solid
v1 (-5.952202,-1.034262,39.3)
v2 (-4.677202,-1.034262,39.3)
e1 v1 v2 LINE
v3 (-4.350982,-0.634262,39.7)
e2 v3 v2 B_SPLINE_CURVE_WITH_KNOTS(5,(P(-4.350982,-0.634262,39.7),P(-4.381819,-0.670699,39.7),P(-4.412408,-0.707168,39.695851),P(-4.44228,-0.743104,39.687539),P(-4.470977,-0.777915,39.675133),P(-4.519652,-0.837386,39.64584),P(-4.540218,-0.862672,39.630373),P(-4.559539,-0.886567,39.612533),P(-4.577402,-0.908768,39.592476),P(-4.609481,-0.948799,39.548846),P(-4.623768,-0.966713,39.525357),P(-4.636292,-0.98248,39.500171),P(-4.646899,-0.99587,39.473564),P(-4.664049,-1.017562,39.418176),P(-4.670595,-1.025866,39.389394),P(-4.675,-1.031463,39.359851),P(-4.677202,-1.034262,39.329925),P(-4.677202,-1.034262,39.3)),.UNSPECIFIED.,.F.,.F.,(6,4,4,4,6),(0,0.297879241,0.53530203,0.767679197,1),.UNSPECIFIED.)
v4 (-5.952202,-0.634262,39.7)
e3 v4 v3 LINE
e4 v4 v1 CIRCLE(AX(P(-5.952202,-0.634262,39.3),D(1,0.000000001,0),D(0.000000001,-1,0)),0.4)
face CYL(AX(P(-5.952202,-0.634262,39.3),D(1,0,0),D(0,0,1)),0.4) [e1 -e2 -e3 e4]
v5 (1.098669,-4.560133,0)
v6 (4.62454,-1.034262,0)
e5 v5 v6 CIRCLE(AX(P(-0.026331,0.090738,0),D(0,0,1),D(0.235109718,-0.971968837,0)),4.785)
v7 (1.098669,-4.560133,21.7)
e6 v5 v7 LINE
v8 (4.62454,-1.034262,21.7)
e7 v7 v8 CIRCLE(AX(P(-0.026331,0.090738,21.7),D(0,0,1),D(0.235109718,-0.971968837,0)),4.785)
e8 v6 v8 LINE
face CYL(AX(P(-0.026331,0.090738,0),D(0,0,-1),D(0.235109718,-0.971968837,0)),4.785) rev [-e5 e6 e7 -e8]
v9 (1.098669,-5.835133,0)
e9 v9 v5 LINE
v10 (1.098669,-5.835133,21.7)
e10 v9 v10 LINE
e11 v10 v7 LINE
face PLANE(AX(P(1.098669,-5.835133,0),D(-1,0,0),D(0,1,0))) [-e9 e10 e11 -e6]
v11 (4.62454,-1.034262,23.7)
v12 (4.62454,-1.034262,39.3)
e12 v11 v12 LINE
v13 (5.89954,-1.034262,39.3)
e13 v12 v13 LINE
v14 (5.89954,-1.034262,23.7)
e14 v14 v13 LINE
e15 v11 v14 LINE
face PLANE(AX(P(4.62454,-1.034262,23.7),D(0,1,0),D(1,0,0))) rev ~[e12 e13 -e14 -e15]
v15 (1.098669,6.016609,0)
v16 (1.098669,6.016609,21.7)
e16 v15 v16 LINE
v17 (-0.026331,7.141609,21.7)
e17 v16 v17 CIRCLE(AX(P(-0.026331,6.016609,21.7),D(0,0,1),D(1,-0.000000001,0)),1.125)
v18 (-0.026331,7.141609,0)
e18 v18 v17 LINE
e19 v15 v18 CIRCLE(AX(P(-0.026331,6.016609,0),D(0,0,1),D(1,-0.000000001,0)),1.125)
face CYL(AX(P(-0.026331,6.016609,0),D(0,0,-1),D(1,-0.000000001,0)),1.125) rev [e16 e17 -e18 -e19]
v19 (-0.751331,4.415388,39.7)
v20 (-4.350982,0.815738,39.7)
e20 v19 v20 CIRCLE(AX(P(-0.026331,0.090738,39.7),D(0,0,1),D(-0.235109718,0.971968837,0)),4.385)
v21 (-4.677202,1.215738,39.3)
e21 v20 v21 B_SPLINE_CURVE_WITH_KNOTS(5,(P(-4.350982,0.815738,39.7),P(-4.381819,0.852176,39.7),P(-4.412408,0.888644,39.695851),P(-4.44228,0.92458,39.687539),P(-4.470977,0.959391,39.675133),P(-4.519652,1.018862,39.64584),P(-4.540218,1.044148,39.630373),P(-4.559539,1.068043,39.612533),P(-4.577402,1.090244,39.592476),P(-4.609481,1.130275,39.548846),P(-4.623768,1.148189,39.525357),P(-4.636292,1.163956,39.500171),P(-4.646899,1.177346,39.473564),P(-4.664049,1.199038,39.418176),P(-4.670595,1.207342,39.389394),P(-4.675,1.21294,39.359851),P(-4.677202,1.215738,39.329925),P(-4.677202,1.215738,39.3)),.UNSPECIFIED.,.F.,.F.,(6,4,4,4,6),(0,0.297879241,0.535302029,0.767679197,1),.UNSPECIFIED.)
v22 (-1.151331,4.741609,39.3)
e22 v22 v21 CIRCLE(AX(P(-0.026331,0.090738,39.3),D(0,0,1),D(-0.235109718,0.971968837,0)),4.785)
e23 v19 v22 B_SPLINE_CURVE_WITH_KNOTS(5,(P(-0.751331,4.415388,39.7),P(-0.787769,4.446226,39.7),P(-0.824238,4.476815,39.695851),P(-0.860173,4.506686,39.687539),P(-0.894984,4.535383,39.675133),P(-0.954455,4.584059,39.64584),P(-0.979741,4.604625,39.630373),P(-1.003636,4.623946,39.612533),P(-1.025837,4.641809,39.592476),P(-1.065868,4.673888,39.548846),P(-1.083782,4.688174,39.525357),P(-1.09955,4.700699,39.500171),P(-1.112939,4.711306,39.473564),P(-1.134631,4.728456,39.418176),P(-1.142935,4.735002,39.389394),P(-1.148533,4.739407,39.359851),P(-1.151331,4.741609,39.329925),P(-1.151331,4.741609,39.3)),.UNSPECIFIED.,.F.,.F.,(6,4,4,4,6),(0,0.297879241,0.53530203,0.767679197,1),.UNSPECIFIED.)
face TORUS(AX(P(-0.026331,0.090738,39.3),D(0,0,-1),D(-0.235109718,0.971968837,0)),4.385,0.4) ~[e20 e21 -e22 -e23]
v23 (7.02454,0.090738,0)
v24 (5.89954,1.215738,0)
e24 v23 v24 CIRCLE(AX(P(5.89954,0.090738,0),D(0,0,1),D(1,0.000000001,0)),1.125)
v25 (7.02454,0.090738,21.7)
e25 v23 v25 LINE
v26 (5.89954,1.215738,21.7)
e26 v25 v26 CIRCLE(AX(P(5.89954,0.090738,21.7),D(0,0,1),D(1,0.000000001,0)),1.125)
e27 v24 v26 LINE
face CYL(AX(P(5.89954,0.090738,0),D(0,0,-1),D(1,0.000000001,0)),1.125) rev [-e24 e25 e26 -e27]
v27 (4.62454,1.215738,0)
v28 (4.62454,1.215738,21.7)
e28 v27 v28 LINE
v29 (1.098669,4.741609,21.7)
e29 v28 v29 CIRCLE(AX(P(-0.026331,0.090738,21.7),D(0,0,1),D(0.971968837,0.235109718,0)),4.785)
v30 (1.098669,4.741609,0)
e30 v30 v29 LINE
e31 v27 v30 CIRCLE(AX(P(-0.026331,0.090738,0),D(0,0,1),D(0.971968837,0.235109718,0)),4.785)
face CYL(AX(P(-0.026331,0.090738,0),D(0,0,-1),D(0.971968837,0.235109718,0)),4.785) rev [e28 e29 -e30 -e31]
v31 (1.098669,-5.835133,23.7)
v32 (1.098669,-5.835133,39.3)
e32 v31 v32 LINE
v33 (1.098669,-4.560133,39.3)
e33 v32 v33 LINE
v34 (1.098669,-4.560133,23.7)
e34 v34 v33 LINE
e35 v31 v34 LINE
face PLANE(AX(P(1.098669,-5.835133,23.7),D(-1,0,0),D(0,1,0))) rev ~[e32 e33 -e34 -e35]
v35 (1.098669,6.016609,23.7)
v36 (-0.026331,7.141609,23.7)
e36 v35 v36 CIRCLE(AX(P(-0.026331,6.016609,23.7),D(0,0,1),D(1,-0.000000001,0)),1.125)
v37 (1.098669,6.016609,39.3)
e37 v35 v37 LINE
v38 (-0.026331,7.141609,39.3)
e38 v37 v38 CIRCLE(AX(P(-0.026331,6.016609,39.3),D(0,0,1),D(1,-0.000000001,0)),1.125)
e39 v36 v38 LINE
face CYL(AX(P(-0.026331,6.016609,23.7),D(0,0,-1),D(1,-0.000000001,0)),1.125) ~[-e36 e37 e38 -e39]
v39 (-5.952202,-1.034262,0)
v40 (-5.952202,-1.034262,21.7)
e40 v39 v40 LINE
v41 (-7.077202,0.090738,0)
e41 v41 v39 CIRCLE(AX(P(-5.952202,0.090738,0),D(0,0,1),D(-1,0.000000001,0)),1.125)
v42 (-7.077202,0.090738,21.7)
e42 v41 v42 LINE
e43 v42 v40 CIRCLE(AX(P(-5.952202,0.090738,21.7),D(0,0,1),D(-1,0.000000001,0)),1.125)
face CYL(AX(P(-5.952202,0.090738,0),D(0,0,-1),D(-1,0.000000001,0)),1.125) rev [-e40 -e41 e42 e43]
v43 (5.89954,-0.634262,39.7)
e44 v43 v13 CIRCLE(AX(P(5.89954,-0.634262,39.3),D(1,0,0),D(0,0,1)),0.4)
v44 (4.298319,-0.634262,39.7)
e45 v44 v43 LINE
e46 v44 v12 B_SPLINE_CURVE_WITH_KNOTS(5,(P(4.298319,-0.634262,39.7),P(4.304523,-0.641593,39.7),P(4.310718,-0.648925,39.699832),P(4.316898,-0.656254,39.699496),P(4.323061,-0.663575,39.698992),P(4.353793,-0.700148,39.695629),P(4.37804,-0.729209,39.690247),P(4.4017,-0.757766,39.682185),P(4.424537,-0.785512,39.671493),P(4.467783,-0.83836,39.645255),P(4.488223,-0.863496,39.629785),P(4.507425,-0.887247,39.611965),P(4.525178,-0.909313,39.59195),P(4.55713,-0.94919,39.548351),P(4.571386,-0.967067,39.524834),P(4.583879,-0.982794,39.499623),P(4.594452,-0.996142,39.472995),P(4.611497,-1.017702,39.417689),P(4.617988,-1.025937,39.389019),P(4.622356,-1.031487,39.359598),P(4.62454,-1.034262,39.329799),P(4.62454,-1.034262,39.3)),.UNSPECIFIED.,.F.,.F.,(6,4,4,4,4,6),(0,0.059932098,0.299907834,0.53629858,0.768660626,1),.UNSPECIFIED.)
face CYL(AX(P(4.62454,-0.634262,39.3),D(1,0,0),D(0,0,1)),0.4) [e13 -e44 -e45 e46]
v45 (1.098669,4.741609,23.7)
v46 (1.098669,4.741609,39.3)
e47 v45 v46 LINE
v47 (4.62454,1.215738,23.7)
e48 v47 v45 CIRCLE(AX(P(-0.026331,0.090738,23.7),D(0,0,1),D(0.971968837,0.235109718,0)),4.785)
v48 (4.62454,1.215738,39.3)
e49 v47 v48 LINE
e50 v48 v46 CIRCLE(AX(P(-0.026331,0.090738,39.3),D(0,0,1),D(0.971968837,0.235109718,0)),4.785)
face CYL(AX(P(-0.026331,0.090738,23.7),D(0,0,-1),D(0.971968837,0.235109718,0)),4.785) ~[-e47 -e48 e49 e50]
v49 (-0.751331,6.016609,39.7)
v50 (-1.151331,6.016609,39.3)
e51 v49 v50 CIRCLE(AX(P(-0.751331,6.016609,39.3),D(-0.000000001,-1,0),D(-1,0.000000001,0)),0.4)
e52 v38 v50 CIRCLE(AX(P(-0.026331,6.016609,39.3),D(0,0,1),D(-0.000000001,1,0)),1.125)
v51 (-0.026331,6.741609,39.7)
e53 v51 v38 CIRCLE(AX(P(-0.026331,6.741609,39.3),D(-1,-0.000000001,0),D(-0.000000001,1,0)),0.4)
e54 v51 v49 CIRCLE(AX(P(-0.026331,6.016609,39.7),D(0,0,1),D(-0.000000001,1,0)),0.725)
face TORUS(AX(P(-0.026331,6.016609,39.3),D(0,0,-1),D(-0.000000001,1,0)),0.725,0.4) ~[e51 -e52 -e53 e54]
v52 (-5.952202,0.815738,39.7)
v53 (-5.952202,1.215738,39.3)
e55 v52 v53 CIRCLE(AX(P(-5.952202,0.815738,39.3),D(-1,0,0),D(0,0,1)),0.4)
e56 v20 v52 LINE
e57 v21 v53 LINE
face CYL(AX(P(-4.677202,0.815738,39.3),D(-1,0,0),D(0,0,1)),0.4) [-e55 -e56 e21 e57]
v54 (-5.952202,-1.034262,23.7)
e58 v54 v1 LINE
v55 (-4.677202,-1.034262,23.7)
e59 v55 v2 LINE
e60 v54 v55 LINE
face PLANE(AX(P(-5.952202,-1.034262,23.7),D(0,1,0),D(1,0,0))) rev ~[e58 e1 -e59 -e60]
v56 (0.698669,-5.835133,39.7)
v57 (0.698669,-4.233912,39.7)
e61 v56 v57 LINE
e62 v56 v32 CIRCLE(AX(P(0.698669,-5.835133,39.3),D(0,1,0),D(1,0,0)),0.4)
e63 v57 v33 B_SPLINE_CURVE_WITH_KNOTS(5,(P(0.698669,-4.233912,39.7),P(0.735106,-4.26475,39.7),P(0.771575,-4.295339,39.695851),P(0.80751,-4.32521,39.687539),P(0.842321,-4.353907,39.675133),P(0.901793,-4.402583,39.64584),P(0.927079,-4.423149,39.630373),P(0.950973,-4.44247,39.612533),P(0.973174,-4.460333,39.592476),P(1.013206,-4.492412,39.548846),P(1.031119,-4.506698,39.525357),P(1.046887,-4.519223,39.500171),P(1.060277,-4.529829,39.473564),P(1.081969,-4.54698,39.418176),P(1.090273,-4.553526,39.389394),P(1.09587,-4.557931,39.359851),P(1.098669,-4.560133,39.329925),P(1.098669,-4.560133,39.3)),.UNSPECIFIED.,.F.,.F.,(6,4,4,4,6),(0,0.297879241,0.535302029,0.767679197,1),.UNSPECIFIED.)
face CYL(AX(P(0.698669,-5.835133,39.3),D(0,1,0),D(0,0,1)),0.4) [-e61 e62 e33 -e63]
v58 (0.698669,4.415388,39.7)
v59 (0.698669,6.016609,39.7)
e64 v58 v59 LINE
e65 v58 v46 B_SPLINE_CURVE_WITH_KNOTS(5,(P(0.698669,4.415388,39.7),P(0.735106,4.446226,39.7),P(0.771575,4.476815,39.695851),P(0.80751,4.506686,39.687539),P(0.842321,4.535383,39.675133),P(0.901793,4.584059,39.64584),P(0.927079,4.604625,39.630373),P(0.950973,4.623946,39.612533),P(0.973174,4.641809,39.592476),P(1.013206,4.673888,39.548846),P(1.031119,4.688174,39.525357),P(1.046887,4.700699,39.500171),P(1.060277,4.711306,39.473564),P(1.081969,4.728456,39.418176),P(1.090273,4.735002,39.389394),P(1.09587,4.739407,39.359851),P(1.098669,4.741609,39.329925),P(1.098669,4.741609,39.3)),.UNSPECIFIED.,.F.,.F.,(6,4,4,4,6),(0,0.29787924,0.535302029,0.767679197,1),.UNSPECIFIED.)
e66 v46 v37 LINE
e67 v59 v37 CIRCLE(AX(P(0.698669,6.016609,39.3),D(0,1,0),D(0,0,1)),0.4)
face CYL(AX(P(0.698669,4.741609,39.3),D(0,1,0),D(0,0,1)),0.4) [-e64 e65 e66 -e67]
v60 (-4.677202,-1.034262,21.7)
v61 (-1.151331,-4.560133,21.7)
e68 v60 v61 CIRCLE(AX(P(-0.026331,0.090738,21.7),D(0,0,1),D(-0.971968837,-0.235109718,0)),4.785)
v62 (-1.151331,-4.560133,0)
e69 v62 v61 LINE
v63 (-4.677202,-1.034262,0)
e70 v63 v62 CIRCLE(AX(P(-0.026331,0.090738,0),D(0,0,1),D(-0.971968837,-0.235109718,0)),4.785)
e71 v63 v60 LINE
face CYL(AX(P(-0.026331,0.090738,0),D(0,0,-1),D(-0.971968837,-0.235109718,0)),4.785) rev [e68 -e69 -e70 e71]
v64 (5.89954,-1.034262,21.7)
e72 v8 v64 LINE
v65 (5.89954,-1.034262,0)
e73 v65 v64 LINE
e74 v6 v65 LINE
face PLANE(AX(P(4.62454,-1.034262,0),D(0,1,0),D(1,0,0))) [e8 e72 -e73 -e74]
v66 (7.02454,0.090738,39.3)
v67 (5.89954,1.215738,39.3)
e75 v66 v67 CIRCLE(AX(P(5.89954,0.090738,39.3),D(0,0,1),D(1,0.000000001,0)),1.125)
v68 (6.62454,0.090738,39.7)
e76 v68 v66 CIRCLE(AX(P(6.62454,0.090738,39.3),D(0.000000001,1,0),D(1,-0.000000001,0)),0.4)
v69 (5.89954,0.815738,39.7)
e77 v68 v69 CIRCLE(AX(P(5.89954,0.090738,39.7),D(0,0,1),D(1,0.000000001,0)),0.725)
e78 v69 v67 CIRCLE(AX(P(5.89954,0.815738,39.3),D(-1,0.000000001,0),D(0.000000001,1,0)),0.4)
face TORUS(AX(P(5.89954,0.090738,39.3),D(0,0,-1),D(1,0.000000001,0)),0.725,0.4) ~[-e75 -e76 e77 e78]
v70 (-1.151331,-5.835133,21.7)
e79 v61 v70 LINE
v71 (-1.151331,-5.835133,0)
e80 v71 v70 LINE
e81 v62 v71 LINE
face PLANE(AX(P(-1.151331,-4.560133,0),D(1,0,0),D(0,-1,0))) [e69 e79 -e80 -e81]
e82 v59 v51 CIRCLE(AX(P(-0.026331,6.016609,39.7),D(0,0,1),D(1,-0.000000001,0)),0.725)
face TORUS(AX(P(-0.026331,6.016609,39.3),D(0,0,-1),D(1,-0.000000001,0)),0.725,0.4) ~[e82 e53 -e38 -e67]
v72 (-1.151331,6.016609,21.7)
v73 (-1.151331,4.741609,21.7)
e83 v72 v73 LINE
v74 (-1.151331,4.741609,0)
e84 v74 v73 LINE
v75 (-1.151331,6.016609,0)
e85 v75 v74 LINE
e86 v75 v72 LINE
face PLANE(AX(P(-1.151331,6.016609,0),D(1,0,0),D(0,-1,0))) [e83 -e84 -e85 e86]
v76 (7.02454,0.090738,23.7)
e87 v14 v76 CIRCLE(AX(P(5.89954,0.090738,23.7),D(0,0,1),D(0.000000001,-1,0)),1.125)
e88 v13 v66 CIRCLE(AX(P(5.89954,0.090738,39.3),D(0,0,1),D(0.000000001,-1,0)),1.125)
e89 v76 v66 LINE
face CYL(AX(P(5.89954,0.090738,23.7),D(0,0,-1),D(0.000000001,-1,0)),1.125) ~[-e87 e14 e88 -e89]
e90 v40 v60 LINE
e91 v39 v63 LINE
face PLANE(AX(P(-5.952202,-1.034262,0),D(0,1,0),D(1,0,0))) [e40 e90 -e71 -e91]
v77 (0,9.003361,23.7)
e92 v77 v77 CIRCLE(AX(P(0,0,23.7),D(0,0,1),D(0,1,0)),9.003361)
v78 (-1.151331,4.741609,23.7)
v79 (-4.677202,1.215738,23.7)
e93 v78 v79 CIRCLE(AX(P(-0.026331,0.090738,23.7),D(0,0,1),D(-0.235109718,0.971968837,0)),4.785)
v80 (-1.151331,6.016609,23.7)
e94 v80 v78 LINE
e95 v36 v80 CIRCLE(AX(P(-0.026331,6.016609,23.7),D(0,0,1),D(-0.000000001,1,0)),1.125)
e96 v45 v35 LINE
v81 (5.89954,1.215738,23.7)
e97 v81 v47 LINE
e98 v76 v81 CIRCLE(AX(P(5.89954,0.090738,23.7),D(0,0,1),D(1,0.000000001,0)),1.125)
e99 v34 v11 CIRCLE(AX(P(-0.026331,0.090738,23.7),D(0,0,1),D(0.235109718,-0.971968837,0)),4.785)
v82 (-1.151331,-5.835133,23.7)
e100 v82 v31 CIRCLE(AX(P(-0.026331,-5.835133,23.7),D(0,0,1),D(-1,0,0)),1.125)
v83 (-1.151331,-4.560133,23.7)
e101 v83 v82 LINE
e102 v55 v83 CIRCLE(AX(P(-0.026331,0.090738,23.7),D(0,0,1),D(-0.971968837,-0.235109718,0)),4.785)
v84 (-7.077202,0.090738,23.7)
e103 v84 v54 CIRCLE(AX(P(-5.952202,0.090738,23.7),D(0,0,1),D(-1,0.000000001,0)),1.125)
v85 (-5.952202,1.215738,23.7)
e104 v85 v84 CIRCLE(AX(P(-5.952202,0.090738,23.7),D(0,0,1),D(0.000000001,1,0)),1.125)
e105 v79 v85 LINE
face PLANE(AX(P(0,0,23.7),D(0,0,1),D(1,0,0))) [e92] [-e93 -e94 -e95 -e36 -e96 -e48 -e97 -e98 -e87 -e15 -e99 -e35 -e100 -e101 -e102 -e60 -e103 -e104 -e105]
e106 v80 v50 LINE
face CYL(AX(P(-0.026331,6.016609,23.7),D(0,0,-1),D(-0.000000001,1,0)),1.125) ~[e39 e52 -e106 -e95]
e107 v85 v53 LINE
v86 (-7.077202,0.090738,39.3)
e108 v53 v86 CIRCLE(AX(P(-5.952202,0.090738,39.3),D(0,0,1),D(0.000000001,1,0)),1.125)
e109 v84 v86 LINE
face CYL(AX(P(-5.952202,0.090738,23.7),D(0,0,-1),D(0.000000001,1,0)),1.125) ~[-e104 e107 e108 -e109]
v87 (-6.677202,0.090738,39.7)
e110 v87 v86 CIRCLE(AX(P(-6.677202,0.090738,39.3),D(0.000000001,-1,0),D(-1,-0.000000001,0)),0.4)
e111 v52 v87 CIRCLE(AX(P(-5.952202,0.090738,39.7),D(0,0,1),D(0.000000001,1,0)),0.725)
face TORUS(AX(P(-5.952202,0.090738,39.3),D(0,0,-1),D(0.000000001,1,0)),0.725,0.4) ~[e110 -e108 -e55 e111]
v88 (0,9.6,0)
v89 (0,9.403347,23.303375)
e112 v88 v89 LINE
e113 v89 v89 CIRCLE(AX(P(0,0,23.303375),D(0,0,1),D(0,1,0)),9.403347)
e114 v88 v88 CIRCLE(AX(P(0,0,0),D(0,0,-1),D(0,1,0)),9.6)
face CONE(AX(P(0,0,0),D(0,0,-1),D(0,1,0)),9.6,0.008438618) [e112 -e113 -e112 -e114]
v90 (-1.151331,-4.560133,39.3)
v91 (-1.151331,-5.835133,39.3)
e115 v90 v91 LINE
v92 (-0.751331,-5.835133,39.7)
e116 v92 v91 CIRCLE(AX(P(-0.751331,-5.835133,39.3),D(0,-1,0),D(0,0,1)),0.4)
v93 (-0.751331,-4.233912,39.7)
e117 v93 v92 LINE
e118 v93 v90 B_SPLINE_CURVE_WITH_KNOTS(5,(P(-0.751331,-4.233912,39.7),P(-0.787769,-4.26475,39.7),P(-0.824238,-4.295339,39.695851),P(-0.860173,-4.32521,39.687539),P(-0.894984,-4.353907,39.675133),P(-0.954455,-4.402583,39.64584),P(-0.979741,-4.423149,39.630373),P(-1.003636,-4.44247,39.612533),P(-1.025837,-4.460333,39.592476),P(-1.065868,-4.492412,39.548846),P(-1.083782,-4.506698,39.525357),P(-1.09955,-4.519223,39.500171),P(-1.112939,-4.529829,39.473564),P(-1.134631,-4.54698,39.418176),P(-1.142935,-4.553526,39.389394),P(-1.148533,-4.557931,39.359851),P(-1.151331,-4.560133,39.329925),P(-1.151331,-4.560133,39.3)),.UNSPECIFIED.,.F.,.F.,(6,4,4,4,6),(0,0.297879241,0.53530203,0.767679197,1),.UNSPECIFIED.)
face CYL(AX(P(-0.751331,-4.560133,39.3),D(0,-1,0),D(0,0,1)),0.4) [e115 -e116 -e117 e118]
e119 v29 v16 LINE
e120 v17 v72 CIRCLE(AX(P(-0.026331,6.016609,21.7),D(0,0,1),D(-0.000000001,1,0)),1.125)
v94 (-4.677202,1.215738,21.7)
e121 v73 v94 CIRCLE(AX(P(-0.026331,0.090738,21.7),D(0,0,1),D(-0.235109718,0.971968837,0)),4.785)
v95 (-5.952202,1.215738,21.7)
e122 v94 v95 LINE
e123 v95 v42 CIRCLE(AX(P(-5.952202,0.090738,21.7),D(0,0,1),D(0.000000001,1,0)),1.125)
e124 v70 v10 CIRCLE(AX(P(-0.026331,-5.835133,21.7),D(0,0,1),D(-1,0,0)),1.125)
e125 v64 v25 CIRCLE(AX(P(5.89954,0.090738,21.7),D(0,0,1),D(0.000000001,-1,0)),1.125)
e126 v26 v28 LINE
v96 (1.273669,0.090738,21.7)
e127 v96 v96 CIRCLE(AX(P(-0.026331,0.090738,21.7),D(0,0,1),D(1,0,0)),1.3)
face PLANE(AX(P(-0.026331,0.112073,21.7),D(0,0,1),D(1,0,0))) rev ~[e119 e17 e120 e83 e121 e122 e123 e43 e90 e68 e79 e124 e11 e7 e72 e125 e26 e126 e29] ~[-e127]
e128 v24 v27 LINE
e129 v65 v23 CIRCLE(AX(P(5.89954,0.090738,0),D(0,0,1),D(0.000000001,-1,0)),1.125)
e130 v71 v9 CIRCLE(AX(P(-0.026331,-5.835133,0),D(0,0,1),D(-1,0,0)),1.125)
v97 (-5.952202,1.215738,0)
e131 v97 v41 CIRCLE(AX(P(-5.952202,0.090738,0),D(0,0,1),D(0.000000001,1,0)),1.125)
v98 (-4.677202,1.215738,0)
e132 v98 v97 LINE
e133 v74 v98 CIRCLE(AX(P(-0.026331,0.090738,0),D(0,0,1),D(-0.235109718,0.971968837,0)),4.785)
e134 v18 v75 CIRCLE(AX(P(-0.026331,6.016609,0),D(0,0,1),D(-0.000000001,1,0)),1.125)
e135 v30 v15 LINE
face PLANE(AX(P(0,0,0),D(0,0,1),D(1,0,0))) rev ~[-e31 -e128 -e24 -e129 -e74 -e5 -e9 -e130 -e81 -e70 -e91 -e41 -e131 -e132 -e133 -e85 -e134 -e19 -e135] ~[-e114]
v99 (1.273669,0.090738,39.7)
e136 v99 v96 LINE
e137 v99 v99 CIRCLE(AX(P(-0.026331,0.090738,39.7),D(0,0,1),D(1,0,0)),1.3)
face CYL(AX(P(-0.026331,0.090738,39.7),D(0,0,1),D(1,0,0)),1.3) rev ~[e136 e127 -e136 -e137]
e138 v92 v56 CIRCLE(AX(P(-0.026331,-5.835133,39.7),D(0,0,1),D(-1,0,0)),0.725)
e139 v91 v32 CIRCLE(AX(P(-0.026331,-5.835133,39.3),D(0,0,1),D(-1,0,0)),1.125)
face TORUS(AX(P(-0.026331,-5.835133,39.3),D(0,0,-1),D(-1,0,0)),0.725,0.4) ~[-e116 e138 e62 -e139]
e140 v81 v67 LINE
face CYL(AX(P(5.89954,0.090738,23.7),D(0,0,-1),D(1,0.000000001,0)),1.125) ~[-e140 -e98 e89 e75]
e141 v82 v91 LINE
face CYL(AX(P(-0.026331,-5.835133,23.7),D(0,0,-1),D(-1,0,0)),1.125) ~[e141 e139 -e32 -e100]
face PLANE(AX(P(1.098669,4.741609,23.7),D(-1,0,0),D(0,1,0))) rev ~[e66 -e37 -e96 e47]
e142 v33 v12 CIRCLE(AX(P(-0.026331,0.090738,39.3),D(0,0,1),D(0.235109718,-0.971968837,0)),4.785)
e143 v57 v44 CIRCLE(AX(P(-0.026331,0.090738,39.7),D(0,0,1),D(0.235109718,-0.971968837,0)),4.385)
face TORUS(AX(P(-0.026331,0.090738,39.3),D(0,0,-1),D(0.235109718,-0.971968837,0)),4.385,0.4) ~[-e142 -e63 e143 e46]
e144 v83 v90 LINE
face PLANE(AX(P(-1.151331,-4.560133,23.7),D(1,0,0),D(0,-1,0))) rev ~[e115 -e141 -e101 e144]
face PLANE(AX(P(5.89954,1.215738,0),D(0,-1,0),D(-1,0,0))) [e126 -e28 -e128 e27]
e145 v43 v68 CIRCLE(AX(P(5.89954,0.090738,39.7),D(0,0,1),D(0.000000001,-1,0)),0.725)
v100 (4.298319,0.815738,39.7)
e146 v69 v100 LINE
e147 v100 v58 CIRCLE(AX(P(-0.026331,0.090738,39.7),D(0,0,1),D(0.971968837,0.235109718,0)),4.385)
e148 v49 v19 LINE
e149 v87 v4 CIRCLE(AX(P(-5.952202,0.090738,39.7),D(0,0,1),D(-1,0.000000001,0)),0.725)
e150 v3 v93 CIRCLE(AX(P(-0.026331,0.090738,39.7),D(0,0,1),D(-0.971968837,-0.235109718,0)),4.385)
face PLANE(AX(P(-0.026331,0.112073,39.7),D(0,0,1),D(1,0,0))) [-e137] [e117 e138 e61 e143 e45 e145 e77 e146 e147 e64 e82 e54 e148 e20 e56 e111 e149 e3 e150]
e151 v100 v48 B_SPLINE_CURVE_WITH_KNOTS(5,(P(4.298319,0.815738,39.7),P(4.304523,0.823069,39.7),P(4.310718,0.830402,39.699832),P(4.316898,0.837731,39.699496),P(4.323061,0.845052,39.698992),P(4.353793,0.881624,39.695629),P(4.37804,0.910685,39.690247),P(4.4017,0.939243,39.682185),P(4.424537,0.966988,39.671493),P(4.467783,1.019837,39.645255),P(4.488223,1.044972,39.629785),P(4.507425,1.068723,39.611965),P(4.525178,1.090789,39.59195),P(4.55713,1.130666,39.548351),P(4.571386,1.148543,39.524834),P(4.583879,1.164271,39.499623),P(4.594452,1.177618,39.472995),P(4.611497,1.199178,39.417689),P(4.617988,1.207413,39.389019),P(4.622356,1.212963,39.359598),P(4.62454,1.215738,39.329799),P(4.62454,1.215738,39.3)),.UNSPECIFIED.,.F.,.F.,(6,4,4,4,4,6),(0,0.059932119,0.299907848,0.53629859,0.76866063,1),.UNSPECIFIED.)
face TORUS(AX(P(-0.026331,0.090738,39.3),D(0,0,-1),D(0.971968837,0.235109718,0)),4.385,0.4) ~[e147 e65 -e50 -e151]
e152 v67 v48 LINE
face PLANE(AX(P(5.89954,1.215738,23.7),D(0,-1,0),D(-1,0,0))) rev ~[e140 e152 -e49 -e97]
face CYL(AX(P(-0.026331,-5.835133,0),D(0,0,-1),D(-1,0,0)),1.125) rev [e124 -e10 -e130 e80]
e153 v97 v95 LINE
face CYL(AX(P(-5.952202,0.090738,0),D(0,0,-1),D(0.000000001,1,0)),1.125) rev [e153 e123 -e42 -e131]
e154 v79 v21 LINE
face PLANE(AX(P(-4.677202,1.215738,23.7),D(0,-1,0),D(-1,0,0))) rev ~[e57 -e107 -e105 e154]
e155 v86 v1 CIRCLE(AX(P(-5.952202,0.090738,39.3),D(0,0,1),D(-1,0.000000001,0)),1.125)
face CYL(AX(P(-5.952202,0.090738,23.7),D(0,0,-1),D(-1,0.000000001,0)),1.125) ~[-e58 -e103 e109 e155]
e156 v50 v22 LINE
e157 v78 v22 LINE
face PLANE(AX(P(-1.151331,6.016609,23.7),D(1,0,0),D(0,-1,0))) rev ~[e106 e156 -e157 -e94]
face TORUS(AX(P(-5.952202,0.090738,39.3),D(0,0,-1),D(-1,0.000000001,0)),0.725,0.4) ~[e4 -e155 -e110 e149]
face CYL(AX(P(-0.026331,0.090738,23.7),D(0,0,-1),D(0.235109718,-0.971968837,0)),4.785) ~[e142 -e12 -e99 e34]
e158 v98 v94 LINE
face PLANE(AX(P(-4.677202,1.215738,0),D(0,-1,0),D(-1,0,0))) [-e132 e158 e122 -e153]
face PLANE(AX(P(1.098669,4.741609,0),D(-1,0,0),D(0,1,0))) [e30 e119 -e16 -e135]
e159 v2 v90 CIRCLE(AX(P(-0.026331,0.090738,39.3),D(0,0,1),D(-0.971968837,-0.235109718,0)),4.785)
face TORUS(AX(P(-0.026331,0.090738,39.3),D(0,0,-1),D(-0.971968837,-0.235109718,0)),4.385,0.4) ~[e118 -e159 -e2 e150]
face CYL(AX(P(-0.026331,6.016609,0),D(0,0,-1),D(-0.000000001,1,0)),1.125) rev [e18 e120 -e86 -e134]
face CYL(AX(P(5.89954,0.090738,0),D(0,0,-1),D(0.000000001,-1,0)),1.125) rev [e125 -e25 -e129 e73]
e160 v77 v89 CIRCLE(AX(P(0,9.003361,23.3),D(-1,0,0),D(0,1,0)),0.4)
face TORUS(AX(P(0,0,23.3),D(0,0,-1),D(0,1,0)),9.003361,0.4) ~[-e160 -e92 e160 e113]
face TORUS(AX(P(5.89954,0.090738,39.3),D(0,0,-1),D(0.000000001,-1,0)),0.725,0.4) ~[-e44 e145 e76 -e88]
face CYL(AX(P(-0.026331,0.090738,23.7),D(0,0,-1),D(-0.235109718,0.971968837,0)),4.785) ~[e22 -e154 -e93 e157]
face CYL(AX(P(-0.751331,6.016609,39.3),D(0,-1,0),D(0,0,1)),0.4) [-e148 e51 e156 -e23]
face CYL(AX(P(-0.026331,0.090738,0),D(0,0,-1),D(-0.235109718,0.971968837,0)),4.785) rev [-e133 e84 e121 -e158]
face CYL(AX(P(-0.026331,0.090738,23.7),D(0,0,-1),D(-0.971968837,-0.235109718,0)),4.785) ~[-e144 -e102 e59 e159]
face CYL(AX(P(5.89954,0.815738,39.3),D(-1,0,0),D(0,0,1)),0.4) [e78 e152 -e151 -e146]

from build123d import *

# Parameters (mm, degrees)
SKETCH1_R           = 9.6
BASE_EXTRUDE_DEPTH  = 23.7
CUT_EXTRUDE1_DEPTH  = 21.7
BOSS_EXTRUDE1_DEPTH = 16
SKETCH4_R           = 1.3
CUT_EXTRUDE2_DEPTH  = 40.7
FILLET4_R           = 0.4


with BuildPart() as part:
    # Sketch1 → Base-Extrude (new body)
    with BuildSketch(Plane.XY):
        Circle(SKETCH1_R)
    extrude(amount=BASE_EXTRUDE_DEPTH)

    # Sketch2 → Cut-Extrude1 (cut)
    with BuildSketch(Plane(origin=(0, 0, 0), x_dir=(-1, 0, 0), z_dir=(0, 0, -1))):
        with BuildLine():
            Line((1.151331339, 6.016608995), (1.151331339, 4.741608995))
            ThreePointArc((1.151331339, 4.741608995), (3.409837287, 3.474244057), (4.677202225, 1.215738109))
            Line((4.677202225, 1.215738109), (5.952202225, 1.215738109))
            ThreePointArc((5.952202225, 1.215738109), (6.747697354, 0.886233238), (7.077202225, 0.090738109))
            ThreePointArc((7.077202225, 0.090738109), (6.747697354, -0.70475702), (5.952202225, -1.034261891))
            Line((5.952202225, -1.034261891), (4.677202225, -1.034261891))
            ThreePointArc((4.677202225, -1.034261891), (3.409837287, -3.292767839), (1.151331339, -4.560132777))
            Line((1.151331339, -4.560132777), (1.151331339, -5.835132777))
            ThreePointArc((1.151331339, -5.835132777), (0.026331339, -6.960132777), (-1.098668661, -5.835132777))
            Line((-1.098668661, -5.835132777), (-1.098668661, -4.560132777))
            ThreePointArc((-1.098668661, -4.560132777), (-3.357174609, -3.292767839), (-4.624539548, -1.034261891))
            Line((-4.624539548, -1.034261891), (-5.899539548, -1.034261891))
            ThreePointArc((-5.899539548, -1.034261891), (-6.695034676, -0.70475702), (-7.024539548, 0.090738109))
            ThreePointArc((-7.024539548, 0.090738109), (-6.695034676, 0.886233238), (-5.899539548, 1.215738109))
            Line((-5.899539548, 1.215738109), (-4.624539548, 1.215738109))
            ThreePointArc((-4.624539548, 1.215738109), (-3.357174609, 3.474244057), (-1.098668661, 4.741608995))
            Line((-1.098668661, 4.741608995), (-1.098668661, 6.016608995))
            ThreePointArc((-1.098668661, 6.016608995), (-0.76916379, 6.812104124), (0.026331339, 7.141608995))
            ThreePointArc((0.026331339, 7.141608995), (0.821826467, 6.812104124), (1.151331339, 6.016608995))
        make_face()
    extrude(amount=-CUT_EXTRUDE1_DEPTH, mode=Mode.SUBTRACT)

    # Sketch3 → Boss-Extrude1 (add)
    with BuildSketch(Plane.XY.offset(23.7)):
        with BuildLine():
            Line((-1.151331339, 6.016608995), (-1.151331339, 4.741608995))
            ThreePointArc((-1.151331339, 4.741608995), (-3.409837287, 3.474244057), (-4.677202225, 1.215738109))
            Line((-4.677202225, 1.215738109), (-5.952202225, 1.215738109))
            ThreePointArc((-5.952202225, 1.215738109), (-6.747697354, 0.886233238), (-7.077202225, 0.090738109))
            ThreePointArc((-7.077202225, 0.090738109), (-6.747697354, -0.70475702), (-5.952202225, -1.034261891))
            Line((-5.952202225, -1.034261891), (-4.677202225, -1.034261891))
            ThreePointArc((-4.677202225, -1.034261891), (-3.409837287, -3.292767839), (-1.151331339, -4.560132777))
            Line((-1.151331339, -4.560132777), (-1.151331339, -5.835132777))
            ThreePointArc((-1.151331339, -5.835132777), (-0.026331339, -6.960132777), (1.098668661, -5.835132777))
            Line((1.098668661, -5.835132777), (1.098668661, -4.560132777))
            ThreePointArc((1.098668661, -4.560132777), (3.357174609, -3.292767839), (4.624539548, -1.034261891))
            Line((4.624539548, -1.034261891), (5.899539548, -1.034261891))
            ThreePointArc((5.899539548, -1.034261891), (6.695034676, -0.70475702), (7.024539548, 0.090738109))
            ThreePointArc((7.024539548, 0.090738109), (6.695034676, 0.886233238), (5.899539548, 1.215738109))
            Line((5.899539548, 1.215738109), (4.624539548, 1.215738109))
            ThreePointArc((4.624539548, 1.215738109), (3.357174609, 3.474244057), (1.098668661, 4.741608995))
            Line((1.098668661, 4.741608995), (1.098668661, 6.016608995))
            ThreePointArc((1.098668661, 6.016608995), (0.76916379, 6.812104124), (-0.026331339, 7.141608995))
            ThreePointArc((-0.026331339, 7.141608995), (-0.821826467, 6.812104124), (-1.151331339, 6.016608995))
        make_face()
    extrude(amount=BOSS_EXTRUDE1_DEPTH)

    # Sketch4 → Cut-Extrude2 (cut, through all)
    with BuildSketch(Plane.XY.offset(39.7)):
        with Locations((-0.026331339, 0.090738109)):
            Circle(SKETCH4_R)
    extrude(amount=-CUT_EXTRUDE2_DEPTH, mode=Mode.SUBTRACT)

    # Sketch5 → Cut-Revolve1 (revolve, cut)
    with BuildSketch(Plane(origin=(0, 0, 0), x_dir=(0, 0, -1), z_dir=(1, 0, 0))):
        Polygon((0, 9.6), (-23.7, 9.4), (-23.7, 9.6), align=None)
    revolve(axis=Axis((0, 0, 0), (0, 0, 1)), mode=Mode.SUBTRACT)

    # Fillet4
    fillet4_edges = [part.edges().sort_by_distance(p)[0] for p in [
        (0, -9.4, 23.7),
        (-5.314702225, 1.215738109, 39.7),
        (-1.151331339, -5.197632777, 39.7),
        (1.098668661, -5.197632777, 39.7),
        (5.262039548, -1.034261891, 39.7),
        (1.098668661, 5.379108995, 39.7),
        (-0.026331339, 7.141608995, 39.7),
        (-1.151331339, 5.379108995, 39.7),
        (-3.409837287, 3.474244057, 39.7),
        (-7.077202225, 0.090738109, 39.7),
        (-5.314702225, -1.034261891, 39.7),
        (-3.409837287, -3.292767839, 39.7),
        (-0.026331339, -6.960132777, 39.7),
        (3.357174609, -3.292767839, 39.7),
        (7.024539548, 0.090738109, 39.7),
        (5.262039548, 1.215738109, 39.7),
        (3.357174609, 3.474244057, 39.7),
    ]]
    fillet(fillet4_edges, radius=FILLET4_R)


solid = part.part
